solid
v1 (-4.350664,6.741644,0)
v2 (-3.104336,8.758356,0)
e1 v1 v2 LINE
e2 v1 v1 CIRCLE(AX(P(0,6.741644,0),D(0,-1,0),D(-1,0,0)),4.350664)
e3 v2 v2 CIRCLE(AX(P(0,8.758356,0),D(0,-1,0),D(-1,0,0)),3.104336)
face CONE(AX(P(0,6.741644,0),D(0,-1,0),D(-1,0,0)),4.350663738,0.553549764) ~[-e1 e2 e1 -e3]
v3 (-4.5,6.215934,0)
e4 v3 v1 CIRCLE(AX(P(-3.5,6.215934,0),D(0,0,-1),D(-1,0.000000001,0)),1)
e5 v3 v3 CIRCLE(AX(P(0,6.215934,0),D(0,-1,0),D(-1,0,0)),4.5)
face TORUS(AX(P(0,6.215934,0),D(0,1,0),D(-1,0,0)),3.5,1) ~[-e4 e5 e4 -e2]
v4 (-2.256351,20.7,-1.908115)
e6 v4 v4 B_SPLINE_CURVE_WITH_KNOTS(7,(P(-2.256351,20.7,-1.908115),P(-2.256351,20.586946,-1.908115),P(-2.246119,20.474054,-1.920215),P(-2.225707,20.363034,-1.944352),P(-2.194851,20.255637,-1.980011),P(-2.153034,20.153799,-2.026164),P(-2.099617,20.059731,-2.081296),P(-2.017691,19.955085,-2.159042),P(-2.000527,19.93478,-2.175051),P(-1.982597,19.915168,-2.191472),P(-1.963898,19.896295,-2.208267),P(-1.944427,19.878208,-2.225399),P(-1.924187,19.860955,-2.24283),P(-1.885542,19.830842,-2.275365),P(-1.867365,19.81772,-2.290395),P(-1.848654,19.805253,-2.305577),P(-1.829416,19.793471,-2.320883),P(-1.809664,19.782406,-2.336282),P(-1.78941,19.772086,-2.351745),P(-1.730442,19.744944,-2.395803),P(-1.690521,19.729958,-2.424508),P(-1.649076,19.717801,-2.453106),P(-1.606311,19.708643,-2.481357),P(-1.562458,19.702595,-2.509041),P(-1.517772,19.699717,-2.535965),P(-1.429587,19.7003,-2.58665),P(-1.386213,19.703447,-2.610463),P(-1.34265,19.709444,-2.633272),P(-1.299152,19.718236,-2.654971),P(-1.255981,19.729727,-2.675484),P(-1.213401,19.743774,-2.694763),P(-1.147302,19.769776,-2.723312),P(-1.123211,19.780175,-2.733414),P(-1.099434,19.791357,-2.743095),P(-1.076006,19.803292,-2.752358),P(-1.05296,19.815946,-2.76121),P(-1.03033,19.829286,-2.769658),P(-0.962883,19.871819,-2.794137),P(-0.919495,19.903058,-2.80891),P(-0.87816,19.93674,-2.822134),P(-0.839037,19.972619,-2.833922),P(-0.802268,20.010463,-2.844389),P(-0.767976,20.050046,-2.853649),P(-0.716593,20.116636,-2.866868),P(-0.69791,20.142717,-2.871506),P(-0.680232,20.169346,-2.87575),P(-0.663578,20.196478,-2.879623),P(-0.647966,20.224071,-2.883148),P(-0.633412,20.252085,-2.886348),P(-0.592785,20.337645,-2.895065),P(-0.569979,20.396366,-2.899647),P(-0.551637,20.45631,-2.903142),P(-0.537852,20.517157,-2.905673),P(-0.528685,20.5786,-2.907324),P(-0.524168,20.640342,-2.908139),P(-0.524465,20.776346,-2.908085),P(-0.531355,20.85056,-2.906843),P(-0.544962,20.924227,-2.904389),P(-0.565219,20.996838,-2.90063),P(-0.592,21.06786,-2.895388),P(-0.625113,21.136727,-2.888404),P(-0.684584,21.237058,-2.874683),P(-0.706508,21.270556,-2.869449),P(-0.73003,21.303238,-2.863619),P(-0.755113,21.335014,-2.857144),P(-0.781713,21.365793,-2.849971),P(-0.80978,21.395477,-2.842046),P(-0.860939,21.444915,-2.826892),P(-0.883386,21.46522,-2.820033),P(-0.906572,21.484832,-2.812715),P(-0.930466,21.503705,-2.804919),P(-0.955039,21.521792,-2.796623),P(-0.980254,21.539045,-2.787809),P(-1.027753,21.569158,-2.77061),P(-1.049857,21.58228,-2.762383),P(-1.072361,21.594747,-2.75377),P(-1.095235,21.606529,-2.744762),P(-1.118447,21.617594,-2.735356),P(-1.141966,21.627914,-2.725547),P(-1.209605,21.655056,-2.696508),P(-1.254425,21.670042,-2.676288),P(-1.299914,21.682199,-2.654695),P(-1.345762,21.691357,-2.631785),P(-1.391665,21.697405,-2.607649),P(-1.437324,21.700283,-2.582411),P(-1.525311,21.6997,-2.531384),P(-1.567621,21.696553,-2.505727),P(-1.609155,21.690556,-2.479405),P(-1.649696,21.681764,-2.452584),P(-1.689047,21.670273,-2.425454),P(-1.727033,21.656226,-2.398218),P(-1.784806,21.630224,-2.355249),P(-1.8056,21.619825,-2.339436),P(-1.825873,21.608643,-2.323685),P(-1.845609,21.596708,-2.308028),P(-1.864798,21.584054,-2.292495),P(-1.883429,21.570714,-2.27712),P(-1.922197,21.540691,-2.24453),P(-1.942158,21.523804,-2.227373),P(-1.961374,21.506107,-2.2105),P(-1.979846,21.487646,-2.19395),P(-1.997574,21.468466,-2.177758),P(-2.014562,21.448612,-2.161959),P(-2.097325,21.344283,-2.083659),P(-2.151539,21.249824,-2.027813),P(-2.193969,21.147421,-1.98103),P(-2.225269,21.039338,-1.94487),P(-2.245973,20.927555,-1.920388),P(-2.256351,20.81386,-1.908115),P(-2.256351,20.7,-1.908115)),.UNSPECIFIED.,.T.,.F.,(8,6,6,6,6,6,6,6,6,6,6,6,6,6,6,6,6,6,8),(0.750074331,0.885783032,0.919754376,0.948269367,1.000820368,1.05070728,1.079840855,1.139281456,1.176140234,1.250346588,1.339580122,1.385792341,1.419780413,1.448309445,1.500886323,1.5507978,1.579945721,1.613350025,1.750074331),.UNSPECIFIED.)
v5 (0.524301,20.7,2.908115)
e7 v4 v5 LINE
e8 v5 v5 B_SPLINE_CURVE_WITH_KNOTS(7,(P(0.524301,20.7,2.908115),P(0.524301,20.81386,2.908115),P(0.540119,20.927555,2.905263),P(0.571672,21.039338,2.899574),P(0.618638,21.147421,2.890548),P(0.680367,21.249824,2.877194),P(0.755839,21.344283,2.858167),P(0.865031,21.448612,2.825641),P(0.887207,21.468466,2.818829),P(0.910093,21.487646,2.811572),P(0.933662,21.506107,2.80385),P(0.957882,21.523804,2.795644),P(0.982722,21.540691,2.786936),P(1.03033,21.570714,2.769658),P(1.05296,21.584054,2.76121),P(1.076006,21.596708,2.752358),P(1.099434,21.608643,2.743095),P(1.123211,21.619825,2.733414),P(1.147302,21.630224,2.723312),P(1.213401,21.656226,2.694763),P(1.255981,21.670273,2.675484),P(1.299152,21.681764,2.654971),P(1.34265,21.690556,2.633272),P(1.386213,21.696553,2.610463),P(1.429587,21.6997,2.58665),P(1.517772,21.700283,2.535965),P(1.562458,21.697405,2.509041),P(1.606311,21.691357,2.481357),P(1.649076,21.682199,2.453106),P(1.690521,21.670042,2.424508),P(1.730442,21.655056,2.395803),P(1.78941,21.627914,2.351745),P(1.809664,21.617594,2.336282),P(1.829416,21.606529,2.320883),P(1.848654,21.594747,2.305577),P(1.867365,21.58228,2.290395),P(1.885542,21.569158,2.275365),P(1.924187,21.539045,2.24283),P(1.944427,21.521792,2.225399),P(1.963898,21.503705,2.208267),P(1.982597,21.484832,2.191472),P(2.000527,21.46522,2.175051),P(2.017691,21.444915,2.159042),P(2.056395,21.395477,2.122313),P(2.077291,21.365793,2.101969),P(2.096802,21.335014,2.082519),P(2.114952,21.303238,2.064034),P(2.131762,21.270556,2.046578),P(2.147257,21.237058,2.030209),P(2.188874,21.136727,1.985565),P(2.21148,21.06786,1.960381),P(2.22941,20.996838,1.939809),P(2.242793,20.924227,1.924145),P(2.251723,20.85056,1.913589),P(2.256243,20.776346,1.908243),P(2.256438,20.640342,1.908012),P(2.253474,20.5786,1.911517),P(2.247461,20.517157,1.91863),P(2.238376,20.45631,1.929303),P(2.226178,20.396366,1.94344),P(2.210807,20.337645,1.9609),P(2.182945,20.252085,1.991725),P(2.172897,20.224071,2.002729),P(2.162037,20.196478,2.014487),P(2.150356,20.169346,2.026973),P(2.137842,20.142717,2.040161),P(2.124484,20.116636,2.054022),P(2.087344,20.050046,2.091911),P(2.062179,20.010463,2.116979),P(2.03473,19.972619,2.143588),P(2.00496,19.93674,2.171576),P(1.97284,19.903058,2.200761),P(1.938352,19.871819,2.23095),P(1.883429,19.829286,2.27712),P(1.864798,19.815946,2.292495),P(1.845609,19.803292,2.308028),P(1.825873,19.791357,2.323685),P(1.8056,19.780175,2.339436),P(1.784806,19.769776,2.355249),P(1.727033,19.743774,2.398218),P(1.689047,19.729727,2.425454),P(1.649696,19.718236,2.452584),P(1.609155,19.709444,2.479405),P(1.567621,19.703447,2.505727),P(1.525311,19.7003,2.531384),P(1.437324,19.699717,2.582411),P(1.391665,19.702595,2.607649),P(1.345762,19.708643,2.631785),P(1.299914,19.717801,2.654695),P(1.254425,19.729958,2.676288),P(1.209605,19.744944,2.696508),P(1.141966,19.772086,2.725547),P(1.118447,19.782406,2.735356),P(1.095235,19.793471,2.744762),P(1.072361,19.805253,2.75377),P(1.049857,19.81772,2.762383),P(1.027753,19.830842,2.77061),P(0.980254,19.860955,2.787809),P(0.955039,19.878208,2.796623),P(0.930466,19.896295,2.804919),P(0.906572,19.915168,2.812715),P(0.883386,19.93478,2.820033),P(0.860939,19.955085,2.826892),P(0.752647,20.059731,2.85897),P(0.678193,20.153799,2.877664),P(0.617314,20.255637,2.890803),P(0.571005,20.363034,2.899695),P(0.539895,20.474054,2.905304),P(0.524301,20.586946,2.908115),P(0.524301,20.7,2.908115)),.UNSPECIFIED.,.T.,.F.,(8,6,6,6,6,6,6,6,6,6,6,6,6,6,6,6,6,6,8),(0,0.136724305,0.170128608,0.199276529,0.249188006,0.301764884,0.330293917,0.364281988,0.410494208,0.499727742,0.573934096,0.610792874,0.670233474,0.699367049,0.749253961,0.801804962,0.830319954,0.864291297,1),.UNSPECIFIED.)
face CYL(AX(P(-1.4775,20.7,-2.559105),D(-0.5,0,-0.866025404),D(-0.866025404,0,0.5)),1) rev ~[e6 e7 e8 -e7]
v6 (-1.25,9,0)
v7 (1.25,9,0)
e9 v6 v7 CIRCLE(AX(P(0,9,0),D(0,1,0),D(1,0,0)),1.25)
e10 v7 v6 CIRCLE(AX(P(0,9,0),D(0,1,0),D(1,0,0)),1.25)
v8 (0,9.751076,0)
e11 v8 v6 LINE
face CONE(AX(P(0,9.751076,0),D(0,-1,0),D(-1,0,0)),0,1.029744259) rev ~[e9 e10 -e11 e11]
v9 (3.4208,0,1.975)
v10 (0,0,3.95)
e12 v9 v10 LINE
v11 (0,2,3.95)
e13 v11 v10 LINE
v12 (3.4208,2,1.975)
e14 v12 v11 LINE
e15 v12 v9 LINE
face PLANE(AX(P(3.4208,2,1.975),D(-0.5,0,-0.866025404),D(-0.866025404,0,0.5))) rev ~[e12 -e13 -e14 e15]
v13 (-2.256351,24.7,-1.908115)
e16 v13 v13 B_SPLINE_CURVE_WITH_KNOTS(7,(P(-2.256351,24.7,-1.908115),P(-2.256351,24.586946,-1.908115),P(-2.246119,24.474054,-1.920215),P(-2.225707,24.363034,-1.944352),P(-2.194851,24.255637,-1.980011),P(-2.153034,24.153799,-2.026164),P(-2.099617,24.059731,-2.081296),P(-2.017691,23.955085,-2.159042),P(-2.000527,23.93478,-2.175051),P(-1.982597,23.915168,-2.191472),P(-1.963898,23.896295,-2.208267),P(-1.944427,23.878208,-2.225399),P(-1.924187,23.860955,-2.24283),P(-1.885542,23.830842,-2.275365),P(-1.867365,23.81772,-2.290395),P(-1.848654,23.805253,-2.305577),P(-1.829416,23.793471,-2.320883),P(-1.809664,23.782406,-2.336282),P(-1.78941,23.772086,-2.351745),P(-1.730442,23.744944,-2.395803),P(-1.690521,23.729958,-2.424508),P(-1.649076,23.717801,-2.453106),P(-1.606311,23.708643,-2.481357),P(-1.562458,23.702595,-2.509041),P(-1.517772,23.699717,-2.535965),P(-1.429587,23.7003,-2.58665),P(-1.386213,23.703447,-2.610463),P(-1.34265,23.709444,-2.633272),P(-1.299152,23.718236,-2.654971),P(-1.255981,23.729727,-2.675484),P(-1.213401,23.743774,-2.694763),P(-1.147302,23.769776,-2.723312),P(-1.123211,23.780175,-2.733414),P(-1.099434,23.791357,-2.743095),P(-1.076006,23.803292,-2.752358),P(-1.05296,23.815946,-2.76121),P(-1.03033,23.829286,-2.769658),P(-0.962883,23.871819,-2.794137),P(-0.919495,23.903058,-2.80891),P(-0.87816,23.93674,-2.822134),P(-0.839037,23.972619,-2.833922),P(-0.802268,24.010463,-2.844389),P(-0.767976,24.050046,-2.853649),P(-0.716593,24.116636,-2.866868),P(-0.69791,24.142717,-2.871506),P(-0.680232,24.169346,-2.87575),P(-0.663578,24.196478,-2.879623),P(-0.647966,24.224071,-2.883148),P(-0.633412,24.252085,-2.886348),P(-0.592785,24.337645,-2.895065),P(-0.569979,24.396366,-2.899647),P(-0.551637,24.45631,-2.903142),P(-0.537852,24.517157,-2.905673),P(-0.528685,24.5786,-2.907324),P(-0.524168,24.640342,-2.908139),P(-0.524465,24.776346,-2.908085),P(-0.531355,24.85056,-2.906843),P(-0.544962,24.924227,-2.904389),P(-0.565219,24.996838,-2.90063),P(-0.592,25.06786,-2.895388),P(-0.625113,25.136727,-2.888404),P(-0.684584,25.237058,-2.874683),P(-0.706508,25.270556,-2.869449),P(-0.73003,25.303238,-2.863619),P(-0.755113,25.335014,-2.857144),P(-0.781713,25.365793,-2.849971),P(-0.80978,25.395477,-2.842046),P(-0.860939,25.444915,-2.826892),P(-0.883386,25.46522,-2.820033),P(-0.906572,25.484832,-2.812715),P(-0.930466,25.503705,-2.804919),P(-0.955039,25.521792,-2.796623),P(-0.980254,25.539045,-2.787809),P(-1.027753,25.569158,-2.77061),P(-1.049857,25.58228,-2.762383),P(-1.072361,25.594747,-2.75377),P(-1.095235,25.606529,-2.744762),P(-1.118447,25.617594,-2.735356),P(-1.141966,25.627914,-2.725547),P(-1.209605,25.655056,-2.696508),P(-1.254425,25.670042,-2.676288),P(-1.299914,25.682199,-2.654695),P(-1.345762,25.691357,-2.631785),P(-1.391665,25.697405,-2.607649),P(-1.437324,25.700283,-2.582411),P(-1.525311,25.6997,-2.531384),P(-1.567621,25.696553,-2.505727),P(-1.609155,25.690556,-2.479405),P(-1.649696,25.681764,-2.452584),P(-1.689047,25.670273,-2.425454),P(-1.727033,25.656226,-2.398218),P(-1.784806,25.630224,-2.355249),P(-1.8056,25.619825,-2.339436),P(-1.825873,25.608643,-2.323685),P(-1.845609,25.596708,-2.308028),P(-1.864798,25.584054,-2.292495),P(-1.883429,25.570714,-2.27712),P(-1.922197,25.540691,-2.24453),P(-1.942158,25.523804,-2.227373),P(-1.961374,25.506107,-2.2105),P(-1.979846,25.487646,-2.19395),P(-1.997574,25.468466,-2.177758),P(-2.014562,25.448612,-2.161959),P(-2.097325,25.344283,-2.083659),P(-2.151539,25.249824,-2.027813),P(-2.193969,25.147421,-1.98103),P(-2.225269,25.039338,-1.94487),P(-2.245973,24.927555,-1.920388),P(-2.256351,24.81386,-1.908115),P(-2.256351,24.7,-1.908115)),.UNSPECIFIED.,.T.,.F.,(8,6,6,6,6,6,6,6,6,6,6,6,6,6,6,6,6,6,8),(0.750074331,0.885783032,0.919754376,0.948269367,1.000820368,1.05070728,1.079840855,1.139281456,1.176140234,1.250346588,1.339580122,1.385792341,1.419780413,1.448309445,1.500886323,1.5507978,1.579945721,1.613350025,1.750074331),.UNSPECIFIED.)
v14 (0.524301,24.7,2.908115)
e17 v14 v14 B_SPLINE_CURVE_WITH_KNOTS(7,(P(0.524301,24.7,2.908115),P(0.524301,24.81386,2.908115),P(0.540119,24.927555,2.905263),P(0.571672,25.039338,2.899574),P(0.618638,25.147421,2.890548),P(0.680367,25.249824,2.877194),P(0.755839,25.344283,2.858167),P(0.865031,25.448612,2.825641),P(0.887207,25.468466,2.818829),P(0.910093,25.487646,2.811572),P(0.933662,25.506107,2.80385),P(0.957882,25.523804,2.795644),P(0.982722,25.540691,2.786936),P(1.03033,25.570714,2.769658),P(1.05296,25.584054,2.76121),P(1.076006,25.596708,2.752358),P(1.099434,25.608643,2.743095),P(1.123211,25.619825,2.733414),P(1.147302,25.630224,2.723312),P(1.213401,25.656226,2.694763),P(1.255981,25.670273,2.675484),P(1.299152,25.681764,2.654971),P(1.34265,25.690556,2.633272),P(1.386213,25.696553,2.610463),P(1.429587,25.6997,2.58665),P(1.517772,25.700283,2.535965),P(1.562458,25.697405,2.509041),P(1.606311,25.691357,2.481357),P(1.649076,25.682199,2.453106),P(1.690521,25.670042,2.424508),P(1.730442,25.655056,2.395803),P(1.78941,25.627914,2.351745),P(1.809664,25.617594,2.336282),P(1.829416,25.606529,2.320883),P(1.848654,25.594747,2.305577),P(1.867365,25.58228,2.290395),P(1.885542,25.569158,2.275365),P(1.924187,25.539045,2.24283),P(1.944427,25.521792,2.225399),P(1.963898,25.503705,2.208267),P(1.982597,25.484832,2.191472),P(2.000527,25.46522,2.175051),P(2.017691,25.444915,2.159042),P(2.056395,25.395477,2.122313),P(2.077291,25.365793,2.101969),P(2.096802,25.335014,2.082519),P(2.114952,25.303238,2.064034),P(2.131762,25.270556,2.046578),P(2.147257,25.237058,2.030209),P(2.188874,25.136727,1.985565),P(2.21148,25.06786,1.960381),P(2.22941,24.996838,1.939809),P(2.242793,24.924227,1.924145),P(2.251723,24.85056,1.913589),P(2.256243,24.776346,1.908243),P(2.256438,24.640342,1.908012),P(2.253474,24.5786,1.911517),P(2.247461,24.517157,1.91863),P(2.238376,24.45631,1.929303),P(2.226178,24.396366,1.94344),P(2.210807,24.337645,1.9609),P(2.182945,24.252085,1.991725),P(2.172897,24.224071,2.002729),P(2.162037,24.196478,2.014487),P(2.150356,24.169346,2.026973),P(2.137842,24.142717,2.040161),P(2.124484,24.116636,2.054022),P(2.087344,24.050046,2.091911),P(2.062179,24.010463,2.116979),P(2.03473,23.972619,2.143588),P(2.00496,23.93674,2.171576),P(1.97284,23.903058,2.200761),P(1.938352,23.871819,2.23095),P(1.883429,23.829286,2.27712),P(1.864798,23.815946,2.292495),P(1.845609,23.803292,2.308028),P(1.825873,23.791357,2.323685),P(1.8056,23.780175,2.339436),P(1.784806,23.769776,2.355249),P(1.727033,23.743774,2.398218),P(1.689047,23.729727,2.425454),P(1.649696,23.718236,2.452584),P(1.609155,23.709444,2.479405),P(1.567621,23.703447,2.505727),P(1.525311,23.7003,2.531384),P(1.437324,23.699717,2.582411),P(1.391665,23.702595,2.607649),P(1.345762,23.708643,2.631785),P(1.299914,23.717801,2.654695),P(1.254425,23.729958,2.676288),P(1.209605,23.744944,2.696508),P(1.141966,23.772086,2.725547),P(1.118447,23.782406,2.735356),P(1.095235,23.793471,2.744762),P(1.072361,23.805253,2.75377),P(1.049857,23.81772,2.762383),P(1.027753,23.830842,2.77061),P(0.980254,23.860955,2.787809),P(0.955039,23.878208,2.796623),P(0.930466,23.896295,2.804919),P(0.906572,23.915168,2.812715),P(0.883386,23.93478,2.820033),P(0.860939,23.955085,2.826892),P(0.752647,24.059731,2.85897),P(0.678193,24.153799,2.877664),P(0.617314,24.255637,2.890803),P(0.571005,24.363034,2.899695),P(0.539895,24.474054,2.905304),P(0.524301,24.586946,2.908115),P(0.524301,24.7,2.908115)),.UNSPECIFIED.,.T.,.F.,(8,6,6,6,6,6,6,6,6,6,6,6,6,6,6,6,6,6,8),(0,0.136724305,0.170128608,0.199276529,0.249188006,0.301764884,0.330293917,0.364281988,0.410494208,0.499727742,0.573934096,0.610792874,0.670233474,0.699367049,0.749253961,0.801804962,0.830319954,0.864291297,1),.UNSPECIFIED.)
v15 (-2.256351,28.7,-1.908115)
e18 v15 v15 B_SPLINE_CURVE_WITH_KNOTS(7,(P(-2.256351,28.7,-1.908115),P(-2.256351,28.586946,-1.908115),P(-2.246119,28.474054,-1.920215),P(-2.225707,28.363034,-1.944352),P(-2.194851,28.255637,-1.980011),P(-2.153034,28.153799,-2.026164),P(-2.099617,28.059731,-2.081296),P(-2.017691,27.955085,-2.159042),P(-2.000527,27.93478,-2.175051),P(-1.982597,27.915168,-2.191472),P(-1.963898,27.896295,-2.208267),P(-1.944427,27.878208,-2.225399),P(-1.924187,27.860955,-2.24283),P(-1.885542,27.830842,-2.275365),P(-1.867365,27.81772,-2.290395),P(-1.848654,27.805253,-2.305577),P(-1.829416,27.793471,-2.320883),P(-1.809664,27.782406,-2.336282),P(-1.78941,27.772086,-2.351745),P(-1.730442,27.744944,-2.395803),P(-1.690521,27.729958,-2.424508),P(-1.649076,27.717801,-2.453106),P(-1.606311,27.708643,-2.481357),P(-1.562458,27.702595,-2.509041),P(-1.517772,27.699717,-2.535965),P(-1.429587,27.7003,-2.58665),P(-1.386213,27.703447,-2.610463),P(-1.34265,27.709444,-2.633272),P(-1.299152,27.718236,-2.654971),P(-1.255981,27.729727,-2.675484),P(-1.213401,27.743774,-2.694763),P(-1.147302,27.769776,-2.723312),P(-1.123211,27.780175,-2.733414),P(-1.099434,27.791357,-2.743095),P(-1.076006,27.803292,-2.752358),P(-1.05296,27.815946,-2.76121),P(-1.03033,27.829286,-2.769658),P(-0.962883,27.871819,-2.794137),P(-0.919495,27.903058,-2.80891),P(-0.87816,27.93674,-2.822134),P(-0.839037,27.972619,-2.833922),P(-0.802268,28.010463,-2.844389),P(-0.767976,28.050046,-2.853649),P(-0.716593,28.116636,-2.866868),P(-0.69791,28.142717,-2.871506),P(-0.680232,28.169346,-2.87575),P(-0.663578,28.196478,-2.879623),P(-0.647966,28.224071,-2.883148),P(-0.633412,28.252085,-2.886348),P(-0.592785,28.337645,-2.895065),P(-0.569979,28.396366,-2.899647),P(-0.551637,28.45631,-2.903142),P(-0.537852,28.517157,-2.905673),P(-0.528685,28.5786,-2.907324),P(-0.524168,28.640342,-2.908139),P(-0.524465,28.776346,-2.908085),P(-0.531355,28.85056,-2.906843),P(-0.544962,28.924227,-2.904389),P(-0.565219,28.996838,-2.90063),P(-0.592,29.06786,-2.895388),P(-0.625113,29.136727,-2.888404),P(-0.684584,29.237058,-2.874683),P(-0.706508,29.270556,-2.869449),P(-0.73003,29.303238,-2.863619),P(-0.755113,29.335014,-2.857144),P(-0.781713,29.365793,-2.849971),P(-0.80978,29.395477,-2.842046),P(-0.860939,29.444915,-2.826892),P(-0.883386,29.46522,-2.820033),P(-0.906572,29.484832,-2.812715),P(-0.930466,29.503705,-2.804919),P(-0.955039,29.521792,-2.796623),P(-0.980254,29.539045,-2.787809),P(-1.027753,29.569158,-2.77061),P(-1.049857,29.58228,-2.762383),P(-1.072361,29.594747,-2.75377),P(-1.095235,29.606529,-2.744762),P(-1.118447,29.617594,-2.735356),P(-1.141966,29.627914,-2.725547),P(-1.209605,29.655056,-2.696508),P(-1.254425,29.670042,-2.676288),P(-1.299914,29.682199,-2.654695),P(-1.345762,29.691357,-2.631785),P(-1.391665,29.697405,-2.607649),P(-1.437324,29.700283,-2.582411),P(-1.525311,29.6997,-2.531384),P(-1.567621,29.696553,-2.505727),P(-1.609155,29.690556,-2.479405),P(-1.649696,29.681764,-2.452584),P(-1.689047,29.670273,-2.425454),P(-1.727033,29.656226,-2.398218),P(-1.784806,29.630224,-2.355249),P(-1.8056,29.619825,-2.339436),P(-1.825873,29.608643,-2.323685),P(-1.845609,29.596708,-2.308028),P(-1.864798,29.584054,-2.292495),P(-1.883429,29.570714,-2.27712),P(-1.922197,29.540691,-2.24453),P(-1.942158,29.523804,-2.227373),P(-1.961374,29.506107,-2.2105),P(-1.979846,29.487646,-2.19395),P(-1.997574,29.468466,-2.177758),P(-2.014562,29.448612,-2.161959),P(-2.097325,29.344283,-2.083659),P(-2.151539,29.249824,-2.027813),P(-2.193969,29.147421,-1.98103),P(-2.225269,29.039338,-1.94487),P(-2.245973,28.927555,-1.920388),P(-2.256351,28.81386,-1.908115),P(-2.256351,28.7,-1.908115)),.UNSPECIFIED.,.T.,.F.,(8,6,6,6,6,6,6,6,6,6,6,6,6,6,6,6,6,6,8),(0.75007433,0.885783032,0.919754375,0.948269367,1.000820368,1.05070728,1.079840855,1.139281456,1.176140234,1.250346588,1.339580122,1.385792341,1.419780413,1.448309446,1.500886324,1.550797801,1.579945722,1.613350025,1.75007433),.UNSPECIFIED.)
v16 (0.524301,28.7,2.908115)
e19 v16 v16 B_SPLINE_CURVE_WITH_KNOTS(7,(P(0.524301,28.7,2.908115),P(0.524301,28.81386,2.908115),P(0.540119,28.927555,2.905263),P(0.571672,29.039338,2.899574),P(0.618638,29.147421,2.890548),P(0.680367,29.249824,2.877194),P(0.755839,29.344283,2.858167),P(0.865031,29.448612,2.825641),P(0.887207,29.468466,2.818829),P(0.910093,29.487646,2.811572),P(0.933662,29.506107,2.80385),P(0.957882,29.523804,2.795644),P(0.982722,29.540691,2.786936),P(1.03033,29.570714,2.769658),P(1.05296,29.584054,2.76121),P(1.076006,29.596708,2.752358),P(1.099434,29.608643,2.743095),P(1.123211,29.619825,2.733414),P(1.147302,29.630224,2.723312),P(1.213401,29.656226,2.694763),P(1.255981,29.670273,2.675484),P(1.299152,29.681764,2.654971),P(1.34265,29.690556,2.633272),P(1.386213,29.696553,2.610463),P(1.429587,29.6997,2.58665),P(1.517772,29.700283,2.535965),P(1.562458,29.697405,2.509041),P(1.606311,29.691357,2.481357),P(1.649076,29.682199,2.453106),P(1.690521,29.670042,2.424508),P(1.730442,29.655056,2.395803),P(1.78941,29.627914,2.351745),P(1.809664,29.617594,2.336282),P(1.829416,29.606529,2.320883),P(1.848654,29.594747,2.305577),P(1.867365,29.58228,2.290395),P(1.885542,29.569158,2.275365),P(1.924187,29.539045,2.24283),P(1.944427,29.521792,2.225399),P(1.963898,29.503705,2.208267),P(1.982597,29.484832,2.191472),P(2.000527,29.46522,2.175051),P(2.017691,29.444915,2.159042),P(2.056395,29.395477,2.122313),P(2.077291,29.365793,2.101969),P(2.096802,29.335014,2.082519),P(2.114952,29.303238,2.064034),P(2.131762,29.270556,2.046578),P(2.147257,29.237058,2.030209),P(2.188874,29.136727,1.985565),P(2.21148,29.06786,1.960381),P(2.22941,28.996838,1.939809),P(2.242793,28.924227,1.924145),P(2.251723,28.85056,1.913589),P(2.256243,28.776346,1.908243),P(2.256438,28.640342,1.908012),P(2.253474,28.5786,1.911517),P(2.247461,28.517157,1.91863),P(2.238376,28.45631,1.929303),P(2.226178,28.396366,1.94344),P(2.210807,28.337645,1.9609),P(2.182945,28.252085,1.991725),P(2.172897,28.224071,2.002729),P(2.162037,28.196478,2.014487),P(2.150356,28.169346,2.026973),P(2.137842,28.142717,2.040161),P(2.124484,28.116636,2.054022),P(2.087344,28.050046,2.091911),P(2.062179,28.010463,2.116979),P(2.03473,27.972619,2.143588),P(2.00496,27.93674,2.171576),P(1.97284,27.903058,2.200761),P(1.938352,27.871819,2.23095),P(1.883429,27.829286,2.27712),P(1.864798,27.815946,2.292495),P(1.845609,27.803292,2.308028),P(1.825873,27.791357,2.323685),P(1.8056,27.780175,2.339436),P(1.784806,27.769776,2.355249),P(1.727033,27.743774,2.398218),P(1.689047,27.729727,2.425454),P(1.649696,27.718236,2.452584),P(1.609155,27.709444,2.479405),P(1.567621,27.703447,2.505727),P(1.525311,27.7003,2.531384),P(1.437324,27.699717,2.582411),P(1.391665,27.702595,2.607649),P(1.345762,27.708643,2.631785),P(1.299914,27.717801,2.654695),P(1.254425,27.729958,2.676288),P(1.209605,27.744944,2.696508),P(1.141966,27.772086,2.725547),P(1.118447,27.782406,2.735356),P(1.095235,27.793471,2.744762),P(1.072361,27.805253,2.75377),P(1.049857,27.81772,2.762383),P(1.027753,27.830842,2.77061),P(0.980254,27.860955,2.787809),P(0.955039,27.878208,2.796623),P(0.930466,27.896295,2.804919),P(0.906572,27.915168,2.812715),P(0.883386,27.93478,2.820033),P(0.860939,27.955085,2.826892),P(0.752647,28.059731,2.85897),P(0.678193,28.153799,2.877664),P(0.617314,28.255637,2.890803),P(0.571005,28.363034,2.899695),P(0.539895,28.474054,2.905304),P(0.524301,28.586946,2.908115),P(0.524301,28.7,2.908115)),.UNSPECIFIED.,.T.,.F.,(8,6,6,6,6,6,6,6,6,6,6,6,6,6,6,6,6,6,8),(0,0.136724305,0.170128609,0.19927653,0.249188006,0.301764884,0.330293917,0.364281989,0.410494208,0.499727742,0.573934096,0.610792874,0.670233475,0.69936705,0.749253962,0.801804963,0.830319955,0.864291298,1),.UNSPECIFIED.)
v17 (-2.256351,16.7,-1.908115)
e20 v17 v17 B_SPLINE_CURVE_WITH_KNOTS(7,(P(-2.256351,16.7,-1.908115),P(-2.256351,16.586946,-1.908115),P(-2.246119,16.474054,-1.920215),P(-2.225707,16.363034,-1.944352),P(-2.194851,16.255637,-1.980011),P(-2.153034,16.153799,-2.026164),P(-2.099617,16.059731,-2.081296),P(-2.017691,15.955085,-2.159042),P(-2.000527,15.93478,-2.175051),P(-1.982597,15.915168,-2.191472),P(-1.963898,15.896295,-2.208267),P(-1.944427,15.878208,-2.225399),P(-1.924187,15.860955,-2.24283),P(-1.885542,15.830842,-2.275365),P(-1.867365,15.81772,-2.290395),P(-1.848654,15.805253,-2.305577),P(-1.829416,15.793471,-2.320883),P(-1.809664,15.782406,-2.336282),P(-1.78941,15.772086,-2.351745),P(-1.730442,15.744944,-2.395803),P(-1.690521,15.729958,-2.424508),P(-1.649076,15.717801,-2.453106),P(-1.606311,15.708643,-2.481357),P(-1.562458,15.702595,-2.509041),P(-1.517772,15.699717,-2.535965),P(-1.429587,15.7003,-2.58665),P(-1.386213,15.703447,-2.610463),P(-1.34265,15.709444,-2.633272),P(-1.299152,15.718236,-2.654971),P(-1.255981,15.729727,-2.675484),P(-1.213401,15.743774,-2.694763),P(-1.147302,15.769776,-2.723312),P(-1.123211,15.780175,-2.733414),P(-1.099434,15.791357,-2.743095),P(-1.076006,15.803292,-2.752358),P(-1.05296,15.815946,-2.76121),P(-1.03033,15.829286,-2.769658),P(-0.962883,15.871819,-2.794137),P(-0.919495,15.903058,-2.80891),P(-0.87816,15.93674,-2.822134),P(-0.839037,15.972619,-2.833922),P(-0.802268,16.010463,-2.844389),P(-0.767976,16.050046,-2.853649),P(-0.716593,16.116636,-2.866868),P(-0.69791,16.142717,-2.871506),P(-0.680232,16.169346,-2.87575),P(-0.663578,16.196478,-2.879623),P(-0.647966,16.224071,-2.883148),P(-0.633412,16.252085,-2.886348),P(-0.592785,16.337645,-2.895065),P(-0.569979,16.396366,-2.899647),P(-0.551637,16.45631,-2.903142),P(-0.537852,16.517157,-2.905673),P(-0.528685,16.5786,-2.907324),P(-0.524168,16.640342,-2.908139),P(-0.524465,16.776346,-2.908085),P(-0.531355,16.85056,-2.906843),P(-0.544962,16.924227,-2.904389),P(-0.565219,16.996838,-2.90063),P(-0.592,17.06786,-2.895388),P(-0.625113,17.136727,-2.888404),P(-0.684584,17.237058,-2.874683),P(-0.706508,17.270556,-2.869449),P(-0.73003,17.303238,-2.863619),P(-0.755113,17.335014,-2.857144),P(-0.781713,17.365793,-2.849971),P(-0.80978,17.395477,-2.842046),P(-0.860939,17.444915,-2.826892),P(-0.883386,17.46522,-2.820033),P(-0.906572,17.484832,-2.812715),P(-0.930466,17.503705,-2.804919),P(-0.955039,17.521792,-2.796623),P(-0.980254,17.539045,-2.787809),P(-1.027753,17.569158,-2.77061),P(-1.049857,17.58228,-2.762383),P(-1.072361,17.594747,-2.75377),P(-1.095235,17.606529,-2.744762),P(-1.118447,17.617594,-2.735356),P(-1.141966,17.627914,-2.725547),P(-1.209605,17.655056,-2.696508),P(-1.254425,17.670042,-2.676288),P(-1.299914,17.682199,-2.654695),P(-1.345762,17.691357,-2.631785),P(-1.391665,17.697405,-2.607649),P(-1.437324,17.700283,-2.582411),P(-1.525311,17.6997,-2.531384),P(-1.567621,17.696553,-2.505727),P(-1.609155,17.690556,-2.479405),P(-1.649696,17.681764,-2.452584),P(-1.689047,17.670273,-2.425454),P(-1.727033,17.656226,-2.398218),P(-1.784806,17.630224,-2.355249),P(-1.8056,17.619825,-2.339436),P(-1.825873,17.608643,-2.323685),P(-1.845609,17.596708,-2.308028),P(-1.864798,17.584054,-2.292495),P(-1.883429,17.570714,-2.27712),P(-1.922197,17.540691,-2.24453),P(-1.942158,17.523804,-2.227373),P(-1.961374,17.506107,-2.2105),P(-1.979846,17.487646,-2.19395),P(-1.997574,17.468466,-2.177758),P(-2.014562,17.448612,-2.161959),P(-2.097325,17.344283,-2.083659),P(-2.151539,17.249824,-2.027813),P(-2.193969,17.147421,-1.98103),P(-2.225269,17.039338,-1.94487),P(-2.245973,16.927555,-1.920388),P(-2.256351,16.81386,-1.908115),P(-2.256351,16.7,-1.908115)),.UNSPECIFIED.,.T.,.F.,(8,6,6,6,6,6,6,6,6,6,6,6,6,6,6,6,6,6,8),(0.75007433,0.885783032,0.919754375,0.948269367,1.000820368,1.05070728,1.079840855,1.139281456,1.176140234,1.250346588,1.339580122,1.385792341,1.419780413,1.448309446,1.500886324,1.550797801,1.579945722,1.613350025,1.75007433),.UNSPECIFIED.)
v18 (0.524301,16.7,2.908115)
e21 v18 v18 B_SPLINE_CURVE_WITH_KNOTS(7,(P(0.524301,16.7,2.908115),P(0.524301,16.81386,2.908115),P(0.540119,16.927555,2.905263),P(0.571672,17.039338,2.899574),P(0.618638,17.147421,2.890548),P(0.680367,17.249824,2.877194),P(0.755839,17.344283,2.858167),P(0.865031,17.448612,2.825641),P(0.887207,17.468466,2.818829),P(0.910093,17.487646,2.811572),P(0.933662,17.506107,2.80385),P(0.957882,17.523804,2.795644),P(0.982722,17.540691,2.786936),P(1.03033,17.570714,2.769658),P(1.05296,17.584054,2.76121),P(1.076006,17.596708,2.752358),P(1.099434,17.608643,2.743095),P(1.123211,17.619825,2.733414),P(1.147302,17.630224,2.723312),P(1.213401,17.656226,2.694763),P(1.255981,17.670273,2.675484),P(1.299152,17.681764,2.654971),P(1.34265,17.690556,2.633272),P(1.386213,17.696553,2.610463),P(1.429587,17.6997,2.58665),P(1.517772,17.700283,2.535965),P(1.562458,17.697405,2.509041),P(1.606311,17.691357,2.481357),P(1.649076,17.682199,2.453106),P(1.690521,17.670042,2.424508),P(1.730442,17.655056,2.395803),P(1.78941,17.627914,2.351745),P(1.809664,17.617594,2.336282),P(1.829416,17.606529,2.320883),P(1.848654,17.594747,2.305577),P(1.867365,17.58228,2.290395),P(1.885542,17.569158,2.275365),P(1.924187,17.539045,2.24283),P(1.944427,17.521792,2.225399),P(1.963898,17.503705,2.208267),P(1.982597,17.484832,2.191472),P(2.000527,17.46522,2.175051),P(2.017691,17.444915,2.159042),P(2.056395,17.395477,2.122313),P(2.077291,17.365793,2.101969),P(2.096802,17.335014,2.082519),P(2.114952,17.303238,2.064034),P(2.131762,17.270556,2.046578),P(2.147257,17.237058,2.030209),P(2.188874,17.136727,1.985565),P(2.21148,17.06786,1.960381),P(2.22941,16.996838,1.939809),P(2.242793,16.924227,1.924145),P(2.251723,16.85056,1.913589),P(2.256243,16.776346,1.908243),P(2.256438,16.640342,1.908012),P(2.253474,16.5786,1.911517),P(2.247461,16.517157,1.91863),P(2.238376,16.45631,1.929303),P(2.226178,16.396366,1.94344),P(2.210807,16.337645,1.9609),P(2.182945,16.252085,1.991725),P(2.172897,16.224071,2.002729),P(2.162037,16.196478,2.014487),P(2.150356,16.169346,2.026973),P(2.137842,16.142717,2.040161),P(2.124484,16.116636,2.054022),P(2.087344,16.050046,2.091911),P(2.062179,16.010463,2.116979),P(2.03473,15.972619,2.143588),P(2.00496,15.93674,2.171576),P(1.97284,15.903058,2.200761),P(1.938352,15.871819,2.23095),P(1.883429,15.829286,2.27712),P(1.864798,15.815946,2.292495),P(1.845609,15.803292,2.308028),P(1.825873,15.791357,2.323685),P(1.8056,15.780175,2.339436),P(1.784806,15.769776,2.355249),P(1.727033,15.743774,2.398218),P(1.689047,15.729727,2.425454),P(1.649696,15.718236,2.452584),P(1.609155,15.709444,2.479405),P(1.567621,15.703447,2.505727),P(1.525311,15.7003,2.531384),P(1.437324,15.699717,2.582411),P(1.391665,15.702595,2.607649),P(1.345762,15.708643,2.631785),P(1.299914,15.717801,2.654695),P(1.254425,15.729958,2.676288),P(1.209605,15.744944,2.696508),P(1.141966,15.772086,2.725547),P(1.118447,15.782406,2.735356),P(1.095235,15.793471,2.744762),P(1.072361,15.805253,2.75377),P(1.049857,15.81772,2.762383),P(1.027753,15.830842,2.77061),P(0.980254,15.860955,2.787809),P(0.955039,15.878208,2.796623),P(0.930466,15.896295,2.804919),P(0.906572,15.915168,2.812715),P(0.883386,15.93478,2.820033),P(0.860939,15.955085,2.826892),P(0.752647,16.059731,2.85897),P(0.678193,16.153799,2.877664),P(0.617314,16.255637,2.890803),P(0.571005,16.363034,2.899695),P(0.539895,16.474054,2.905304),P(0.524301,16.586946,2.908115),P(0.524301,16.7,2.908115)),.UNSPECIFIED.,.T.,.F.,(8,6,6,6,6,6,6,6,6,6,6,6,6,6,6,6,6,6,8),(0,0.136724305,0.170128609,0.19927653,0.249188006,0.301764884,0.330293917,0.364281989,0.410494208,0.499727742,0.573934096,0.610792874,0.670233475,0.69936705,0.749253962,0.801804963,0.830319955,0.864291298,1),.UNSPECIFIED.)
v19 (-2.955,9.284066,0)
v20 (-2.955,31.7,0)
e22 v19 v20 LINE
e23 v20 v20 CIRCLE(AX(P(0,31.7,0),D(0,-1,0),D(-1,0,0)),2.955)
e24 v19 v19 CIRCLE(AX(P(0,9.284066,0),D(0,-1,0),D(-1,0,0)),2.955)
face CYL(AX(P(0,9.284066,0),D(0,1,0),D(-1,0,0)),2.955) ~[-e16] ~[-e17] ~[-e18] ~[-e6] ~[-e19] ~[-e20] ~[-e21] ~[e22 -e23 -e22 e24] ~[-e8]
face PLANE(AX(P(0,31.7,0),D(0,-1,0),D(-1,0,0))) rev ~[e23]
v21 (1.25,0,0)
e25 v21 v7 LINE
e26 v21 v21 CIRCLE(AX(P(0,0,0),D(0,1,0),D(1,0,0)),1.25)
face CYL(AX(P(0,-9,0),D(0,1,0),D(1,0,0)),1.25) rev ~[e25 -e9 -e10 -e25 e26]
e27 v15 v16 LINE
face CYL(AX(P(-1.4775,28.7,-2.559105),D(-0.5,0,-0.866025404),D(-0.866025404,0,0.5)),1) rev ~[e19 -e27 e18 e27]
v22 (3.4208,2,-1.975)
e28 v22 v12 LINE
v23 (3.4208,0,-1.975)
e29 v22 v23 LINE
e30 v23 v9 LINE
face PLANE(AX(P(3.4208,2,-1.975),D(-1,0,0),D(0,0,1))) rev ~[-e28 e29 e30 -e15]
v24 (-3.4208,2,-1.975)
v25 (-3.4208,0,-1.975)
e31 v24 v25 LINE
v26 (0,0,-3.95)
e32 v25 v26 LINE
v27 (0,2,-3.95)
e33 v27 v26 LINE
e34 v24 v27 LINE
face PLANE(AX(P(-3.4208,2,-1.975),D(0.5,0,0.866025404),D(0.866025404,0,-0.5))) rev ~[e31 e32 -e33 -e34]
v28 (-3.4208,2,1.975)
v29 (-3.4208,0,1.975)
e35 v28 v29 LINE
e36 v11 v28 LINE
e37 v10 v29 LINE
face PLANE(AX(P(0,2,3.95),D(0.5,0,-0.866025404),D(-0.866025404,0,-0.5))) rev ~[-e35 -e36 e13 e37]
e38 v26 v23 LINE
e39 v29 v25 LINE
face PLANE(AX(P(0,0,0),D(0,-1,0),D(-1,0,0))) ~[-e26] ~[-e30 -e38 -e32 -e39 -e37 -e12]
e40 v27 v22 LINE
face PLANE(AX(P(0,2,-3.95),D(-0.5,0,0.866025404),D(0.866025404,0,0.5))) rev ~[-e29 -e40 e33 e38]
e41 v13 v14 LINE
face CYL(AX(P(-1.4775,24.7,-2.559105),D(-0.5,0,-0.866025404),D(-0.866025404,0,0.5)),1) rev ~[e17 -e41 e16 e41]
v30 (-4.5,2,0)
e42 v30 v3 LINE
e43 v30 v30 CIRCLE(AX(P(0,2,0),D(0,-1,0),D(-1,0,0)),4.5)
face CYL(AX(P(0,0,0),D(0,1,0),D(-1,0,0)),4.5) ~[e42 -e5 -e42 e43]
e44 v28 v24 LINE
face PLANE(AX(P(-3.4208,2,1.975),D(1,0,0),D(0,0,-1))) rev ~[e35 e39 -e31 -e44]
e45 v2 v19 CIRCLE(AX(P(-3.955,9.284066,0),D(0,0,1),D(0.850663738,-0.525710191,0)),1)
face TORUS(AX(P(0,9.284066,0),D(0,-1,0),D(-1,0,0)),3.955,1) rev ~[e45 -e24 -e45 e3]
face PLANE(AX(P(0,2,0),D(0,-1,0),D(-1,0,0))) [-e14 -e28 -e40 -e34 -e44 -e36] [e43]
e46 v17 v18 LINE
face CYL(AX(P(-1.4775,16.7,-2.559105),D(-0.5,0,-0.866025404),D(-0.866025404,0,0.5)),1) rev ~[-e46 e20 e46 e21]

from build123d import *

# Parameters (mm, degrees)
TAGLIO_ESTRUSIONE1_START      = -2
SCHIZZO2_R                    = 4.5
TAGLIO_ESTRUSIONE1_DEPTH      = 2
FORO_FILETTATO_M3X0_5_1_D     = 2.5
FORO_FILETTATO_M3X0_5_1_DEPTH = 9
FORO_FILETTATO_M3X0_5_1_TIP   = 0.751075774
SCHIZZO5_R                    = 1
TAGLIO_ESTRUSIONE2_DEPTH      = 34.021984656


with BuildPart() as part:
    # Schizzo1 → Rivoluzione1 (revolve)
    with BuildSketch(Plane.XY):
        with BuildLine():
            Line((0, 0), (4.5, 0))
            Line((4.5, 0), (4.5, 6.215934246))
            ThreePointArc((4.5, 6.215934246), (4.461941718, 6.489188945), (4.350663738, 6.741644436))
            Line((4.350663738, 6.741644436), (3.104336262, 8.758355564))
            ThreePointArc((3.104336262, 8.758355564), (2.993058282, 9.010811055), (2.955, 9.284065754))
            Line((2.955, 9.284065754), (2.955, 31.7))
            Line((2.955, 31.7), (0, 31.7))
            Line((0, 31.7), (0, 0))
        make_face()
    revolve(axis=Axis((0, 31.7, 0), (0, -1, 0)))

    # Schizzo2 → Taglio-Estrusione1 (cut)
    with BuildSketch(Plane.XZ.offset(TAGLIO_ESTRUSIONE1_START)):
        Circle(SCHIZZO2_R)
        Polygon((0, 3.95), (-3.420800345, 1.975), (-3.420800345, -1.975), (0, -3.95), (3.420800345, -1.975), (3.420800345, 1.975), align=None, mode=Mode.SUBTRACT)
    extrude(amount=TAGLIO_ESTRUSIONE1_DEPTH, mode=Mode.SUBTRACT)

    # Foro filettato M3x0.5-1
    with Locations(Plane(origin=(0, 0, 0), x_dir=(-1, 0, 0), z_dir=(0, -1, 0))):
        with Locations((0, 0)):
            Hole(FORO_FILETTATO_M3X0_5_1_D / 2, depth=FORO_FILETTATO_M3X0_5_1_DEPTH)
            with Locations((0, 0, -(FORO_FILETTATO_M3X0_5_1_DEPTH + FORO_FILETTATO_M3X0_5_1_TIP / 2))):  # 118° drill point
                Cone(0, FORO_FILETTATO_M3X0_5_1_D / 2, FORO_FILETTATO_M3X0_5_1_TIP, mode=Mode.SUBTRACT)

    # Schizzo5 → Taglio-Estrusione2 (cut, through all)
    with BuildSketch(Plane(origin=(-1.4775, 0, -2.559105068), x_dir=(-0.8660254037844385, 0, 0.5000000000000004), z_dir=(-0.5000000000000003, 0, -0.8660254037844384))):
        with Locations((0, 16.7)):
            Circle(SCHIZZO5_R)
        with Locations((0, 20.7)):
            Circle(SCHIZZO5_R)
        with Locations((0, 24.7)):
            Circle(SCHIZZO5_R)
        with Locations((0, 28.7)):
            Circle(SCHIZZO5_R)
    extrude(amount=-TAGLIO_ESTRUSIONE2_DEPTH, mode=Mode.SUBTRACT)


solid = part.part
